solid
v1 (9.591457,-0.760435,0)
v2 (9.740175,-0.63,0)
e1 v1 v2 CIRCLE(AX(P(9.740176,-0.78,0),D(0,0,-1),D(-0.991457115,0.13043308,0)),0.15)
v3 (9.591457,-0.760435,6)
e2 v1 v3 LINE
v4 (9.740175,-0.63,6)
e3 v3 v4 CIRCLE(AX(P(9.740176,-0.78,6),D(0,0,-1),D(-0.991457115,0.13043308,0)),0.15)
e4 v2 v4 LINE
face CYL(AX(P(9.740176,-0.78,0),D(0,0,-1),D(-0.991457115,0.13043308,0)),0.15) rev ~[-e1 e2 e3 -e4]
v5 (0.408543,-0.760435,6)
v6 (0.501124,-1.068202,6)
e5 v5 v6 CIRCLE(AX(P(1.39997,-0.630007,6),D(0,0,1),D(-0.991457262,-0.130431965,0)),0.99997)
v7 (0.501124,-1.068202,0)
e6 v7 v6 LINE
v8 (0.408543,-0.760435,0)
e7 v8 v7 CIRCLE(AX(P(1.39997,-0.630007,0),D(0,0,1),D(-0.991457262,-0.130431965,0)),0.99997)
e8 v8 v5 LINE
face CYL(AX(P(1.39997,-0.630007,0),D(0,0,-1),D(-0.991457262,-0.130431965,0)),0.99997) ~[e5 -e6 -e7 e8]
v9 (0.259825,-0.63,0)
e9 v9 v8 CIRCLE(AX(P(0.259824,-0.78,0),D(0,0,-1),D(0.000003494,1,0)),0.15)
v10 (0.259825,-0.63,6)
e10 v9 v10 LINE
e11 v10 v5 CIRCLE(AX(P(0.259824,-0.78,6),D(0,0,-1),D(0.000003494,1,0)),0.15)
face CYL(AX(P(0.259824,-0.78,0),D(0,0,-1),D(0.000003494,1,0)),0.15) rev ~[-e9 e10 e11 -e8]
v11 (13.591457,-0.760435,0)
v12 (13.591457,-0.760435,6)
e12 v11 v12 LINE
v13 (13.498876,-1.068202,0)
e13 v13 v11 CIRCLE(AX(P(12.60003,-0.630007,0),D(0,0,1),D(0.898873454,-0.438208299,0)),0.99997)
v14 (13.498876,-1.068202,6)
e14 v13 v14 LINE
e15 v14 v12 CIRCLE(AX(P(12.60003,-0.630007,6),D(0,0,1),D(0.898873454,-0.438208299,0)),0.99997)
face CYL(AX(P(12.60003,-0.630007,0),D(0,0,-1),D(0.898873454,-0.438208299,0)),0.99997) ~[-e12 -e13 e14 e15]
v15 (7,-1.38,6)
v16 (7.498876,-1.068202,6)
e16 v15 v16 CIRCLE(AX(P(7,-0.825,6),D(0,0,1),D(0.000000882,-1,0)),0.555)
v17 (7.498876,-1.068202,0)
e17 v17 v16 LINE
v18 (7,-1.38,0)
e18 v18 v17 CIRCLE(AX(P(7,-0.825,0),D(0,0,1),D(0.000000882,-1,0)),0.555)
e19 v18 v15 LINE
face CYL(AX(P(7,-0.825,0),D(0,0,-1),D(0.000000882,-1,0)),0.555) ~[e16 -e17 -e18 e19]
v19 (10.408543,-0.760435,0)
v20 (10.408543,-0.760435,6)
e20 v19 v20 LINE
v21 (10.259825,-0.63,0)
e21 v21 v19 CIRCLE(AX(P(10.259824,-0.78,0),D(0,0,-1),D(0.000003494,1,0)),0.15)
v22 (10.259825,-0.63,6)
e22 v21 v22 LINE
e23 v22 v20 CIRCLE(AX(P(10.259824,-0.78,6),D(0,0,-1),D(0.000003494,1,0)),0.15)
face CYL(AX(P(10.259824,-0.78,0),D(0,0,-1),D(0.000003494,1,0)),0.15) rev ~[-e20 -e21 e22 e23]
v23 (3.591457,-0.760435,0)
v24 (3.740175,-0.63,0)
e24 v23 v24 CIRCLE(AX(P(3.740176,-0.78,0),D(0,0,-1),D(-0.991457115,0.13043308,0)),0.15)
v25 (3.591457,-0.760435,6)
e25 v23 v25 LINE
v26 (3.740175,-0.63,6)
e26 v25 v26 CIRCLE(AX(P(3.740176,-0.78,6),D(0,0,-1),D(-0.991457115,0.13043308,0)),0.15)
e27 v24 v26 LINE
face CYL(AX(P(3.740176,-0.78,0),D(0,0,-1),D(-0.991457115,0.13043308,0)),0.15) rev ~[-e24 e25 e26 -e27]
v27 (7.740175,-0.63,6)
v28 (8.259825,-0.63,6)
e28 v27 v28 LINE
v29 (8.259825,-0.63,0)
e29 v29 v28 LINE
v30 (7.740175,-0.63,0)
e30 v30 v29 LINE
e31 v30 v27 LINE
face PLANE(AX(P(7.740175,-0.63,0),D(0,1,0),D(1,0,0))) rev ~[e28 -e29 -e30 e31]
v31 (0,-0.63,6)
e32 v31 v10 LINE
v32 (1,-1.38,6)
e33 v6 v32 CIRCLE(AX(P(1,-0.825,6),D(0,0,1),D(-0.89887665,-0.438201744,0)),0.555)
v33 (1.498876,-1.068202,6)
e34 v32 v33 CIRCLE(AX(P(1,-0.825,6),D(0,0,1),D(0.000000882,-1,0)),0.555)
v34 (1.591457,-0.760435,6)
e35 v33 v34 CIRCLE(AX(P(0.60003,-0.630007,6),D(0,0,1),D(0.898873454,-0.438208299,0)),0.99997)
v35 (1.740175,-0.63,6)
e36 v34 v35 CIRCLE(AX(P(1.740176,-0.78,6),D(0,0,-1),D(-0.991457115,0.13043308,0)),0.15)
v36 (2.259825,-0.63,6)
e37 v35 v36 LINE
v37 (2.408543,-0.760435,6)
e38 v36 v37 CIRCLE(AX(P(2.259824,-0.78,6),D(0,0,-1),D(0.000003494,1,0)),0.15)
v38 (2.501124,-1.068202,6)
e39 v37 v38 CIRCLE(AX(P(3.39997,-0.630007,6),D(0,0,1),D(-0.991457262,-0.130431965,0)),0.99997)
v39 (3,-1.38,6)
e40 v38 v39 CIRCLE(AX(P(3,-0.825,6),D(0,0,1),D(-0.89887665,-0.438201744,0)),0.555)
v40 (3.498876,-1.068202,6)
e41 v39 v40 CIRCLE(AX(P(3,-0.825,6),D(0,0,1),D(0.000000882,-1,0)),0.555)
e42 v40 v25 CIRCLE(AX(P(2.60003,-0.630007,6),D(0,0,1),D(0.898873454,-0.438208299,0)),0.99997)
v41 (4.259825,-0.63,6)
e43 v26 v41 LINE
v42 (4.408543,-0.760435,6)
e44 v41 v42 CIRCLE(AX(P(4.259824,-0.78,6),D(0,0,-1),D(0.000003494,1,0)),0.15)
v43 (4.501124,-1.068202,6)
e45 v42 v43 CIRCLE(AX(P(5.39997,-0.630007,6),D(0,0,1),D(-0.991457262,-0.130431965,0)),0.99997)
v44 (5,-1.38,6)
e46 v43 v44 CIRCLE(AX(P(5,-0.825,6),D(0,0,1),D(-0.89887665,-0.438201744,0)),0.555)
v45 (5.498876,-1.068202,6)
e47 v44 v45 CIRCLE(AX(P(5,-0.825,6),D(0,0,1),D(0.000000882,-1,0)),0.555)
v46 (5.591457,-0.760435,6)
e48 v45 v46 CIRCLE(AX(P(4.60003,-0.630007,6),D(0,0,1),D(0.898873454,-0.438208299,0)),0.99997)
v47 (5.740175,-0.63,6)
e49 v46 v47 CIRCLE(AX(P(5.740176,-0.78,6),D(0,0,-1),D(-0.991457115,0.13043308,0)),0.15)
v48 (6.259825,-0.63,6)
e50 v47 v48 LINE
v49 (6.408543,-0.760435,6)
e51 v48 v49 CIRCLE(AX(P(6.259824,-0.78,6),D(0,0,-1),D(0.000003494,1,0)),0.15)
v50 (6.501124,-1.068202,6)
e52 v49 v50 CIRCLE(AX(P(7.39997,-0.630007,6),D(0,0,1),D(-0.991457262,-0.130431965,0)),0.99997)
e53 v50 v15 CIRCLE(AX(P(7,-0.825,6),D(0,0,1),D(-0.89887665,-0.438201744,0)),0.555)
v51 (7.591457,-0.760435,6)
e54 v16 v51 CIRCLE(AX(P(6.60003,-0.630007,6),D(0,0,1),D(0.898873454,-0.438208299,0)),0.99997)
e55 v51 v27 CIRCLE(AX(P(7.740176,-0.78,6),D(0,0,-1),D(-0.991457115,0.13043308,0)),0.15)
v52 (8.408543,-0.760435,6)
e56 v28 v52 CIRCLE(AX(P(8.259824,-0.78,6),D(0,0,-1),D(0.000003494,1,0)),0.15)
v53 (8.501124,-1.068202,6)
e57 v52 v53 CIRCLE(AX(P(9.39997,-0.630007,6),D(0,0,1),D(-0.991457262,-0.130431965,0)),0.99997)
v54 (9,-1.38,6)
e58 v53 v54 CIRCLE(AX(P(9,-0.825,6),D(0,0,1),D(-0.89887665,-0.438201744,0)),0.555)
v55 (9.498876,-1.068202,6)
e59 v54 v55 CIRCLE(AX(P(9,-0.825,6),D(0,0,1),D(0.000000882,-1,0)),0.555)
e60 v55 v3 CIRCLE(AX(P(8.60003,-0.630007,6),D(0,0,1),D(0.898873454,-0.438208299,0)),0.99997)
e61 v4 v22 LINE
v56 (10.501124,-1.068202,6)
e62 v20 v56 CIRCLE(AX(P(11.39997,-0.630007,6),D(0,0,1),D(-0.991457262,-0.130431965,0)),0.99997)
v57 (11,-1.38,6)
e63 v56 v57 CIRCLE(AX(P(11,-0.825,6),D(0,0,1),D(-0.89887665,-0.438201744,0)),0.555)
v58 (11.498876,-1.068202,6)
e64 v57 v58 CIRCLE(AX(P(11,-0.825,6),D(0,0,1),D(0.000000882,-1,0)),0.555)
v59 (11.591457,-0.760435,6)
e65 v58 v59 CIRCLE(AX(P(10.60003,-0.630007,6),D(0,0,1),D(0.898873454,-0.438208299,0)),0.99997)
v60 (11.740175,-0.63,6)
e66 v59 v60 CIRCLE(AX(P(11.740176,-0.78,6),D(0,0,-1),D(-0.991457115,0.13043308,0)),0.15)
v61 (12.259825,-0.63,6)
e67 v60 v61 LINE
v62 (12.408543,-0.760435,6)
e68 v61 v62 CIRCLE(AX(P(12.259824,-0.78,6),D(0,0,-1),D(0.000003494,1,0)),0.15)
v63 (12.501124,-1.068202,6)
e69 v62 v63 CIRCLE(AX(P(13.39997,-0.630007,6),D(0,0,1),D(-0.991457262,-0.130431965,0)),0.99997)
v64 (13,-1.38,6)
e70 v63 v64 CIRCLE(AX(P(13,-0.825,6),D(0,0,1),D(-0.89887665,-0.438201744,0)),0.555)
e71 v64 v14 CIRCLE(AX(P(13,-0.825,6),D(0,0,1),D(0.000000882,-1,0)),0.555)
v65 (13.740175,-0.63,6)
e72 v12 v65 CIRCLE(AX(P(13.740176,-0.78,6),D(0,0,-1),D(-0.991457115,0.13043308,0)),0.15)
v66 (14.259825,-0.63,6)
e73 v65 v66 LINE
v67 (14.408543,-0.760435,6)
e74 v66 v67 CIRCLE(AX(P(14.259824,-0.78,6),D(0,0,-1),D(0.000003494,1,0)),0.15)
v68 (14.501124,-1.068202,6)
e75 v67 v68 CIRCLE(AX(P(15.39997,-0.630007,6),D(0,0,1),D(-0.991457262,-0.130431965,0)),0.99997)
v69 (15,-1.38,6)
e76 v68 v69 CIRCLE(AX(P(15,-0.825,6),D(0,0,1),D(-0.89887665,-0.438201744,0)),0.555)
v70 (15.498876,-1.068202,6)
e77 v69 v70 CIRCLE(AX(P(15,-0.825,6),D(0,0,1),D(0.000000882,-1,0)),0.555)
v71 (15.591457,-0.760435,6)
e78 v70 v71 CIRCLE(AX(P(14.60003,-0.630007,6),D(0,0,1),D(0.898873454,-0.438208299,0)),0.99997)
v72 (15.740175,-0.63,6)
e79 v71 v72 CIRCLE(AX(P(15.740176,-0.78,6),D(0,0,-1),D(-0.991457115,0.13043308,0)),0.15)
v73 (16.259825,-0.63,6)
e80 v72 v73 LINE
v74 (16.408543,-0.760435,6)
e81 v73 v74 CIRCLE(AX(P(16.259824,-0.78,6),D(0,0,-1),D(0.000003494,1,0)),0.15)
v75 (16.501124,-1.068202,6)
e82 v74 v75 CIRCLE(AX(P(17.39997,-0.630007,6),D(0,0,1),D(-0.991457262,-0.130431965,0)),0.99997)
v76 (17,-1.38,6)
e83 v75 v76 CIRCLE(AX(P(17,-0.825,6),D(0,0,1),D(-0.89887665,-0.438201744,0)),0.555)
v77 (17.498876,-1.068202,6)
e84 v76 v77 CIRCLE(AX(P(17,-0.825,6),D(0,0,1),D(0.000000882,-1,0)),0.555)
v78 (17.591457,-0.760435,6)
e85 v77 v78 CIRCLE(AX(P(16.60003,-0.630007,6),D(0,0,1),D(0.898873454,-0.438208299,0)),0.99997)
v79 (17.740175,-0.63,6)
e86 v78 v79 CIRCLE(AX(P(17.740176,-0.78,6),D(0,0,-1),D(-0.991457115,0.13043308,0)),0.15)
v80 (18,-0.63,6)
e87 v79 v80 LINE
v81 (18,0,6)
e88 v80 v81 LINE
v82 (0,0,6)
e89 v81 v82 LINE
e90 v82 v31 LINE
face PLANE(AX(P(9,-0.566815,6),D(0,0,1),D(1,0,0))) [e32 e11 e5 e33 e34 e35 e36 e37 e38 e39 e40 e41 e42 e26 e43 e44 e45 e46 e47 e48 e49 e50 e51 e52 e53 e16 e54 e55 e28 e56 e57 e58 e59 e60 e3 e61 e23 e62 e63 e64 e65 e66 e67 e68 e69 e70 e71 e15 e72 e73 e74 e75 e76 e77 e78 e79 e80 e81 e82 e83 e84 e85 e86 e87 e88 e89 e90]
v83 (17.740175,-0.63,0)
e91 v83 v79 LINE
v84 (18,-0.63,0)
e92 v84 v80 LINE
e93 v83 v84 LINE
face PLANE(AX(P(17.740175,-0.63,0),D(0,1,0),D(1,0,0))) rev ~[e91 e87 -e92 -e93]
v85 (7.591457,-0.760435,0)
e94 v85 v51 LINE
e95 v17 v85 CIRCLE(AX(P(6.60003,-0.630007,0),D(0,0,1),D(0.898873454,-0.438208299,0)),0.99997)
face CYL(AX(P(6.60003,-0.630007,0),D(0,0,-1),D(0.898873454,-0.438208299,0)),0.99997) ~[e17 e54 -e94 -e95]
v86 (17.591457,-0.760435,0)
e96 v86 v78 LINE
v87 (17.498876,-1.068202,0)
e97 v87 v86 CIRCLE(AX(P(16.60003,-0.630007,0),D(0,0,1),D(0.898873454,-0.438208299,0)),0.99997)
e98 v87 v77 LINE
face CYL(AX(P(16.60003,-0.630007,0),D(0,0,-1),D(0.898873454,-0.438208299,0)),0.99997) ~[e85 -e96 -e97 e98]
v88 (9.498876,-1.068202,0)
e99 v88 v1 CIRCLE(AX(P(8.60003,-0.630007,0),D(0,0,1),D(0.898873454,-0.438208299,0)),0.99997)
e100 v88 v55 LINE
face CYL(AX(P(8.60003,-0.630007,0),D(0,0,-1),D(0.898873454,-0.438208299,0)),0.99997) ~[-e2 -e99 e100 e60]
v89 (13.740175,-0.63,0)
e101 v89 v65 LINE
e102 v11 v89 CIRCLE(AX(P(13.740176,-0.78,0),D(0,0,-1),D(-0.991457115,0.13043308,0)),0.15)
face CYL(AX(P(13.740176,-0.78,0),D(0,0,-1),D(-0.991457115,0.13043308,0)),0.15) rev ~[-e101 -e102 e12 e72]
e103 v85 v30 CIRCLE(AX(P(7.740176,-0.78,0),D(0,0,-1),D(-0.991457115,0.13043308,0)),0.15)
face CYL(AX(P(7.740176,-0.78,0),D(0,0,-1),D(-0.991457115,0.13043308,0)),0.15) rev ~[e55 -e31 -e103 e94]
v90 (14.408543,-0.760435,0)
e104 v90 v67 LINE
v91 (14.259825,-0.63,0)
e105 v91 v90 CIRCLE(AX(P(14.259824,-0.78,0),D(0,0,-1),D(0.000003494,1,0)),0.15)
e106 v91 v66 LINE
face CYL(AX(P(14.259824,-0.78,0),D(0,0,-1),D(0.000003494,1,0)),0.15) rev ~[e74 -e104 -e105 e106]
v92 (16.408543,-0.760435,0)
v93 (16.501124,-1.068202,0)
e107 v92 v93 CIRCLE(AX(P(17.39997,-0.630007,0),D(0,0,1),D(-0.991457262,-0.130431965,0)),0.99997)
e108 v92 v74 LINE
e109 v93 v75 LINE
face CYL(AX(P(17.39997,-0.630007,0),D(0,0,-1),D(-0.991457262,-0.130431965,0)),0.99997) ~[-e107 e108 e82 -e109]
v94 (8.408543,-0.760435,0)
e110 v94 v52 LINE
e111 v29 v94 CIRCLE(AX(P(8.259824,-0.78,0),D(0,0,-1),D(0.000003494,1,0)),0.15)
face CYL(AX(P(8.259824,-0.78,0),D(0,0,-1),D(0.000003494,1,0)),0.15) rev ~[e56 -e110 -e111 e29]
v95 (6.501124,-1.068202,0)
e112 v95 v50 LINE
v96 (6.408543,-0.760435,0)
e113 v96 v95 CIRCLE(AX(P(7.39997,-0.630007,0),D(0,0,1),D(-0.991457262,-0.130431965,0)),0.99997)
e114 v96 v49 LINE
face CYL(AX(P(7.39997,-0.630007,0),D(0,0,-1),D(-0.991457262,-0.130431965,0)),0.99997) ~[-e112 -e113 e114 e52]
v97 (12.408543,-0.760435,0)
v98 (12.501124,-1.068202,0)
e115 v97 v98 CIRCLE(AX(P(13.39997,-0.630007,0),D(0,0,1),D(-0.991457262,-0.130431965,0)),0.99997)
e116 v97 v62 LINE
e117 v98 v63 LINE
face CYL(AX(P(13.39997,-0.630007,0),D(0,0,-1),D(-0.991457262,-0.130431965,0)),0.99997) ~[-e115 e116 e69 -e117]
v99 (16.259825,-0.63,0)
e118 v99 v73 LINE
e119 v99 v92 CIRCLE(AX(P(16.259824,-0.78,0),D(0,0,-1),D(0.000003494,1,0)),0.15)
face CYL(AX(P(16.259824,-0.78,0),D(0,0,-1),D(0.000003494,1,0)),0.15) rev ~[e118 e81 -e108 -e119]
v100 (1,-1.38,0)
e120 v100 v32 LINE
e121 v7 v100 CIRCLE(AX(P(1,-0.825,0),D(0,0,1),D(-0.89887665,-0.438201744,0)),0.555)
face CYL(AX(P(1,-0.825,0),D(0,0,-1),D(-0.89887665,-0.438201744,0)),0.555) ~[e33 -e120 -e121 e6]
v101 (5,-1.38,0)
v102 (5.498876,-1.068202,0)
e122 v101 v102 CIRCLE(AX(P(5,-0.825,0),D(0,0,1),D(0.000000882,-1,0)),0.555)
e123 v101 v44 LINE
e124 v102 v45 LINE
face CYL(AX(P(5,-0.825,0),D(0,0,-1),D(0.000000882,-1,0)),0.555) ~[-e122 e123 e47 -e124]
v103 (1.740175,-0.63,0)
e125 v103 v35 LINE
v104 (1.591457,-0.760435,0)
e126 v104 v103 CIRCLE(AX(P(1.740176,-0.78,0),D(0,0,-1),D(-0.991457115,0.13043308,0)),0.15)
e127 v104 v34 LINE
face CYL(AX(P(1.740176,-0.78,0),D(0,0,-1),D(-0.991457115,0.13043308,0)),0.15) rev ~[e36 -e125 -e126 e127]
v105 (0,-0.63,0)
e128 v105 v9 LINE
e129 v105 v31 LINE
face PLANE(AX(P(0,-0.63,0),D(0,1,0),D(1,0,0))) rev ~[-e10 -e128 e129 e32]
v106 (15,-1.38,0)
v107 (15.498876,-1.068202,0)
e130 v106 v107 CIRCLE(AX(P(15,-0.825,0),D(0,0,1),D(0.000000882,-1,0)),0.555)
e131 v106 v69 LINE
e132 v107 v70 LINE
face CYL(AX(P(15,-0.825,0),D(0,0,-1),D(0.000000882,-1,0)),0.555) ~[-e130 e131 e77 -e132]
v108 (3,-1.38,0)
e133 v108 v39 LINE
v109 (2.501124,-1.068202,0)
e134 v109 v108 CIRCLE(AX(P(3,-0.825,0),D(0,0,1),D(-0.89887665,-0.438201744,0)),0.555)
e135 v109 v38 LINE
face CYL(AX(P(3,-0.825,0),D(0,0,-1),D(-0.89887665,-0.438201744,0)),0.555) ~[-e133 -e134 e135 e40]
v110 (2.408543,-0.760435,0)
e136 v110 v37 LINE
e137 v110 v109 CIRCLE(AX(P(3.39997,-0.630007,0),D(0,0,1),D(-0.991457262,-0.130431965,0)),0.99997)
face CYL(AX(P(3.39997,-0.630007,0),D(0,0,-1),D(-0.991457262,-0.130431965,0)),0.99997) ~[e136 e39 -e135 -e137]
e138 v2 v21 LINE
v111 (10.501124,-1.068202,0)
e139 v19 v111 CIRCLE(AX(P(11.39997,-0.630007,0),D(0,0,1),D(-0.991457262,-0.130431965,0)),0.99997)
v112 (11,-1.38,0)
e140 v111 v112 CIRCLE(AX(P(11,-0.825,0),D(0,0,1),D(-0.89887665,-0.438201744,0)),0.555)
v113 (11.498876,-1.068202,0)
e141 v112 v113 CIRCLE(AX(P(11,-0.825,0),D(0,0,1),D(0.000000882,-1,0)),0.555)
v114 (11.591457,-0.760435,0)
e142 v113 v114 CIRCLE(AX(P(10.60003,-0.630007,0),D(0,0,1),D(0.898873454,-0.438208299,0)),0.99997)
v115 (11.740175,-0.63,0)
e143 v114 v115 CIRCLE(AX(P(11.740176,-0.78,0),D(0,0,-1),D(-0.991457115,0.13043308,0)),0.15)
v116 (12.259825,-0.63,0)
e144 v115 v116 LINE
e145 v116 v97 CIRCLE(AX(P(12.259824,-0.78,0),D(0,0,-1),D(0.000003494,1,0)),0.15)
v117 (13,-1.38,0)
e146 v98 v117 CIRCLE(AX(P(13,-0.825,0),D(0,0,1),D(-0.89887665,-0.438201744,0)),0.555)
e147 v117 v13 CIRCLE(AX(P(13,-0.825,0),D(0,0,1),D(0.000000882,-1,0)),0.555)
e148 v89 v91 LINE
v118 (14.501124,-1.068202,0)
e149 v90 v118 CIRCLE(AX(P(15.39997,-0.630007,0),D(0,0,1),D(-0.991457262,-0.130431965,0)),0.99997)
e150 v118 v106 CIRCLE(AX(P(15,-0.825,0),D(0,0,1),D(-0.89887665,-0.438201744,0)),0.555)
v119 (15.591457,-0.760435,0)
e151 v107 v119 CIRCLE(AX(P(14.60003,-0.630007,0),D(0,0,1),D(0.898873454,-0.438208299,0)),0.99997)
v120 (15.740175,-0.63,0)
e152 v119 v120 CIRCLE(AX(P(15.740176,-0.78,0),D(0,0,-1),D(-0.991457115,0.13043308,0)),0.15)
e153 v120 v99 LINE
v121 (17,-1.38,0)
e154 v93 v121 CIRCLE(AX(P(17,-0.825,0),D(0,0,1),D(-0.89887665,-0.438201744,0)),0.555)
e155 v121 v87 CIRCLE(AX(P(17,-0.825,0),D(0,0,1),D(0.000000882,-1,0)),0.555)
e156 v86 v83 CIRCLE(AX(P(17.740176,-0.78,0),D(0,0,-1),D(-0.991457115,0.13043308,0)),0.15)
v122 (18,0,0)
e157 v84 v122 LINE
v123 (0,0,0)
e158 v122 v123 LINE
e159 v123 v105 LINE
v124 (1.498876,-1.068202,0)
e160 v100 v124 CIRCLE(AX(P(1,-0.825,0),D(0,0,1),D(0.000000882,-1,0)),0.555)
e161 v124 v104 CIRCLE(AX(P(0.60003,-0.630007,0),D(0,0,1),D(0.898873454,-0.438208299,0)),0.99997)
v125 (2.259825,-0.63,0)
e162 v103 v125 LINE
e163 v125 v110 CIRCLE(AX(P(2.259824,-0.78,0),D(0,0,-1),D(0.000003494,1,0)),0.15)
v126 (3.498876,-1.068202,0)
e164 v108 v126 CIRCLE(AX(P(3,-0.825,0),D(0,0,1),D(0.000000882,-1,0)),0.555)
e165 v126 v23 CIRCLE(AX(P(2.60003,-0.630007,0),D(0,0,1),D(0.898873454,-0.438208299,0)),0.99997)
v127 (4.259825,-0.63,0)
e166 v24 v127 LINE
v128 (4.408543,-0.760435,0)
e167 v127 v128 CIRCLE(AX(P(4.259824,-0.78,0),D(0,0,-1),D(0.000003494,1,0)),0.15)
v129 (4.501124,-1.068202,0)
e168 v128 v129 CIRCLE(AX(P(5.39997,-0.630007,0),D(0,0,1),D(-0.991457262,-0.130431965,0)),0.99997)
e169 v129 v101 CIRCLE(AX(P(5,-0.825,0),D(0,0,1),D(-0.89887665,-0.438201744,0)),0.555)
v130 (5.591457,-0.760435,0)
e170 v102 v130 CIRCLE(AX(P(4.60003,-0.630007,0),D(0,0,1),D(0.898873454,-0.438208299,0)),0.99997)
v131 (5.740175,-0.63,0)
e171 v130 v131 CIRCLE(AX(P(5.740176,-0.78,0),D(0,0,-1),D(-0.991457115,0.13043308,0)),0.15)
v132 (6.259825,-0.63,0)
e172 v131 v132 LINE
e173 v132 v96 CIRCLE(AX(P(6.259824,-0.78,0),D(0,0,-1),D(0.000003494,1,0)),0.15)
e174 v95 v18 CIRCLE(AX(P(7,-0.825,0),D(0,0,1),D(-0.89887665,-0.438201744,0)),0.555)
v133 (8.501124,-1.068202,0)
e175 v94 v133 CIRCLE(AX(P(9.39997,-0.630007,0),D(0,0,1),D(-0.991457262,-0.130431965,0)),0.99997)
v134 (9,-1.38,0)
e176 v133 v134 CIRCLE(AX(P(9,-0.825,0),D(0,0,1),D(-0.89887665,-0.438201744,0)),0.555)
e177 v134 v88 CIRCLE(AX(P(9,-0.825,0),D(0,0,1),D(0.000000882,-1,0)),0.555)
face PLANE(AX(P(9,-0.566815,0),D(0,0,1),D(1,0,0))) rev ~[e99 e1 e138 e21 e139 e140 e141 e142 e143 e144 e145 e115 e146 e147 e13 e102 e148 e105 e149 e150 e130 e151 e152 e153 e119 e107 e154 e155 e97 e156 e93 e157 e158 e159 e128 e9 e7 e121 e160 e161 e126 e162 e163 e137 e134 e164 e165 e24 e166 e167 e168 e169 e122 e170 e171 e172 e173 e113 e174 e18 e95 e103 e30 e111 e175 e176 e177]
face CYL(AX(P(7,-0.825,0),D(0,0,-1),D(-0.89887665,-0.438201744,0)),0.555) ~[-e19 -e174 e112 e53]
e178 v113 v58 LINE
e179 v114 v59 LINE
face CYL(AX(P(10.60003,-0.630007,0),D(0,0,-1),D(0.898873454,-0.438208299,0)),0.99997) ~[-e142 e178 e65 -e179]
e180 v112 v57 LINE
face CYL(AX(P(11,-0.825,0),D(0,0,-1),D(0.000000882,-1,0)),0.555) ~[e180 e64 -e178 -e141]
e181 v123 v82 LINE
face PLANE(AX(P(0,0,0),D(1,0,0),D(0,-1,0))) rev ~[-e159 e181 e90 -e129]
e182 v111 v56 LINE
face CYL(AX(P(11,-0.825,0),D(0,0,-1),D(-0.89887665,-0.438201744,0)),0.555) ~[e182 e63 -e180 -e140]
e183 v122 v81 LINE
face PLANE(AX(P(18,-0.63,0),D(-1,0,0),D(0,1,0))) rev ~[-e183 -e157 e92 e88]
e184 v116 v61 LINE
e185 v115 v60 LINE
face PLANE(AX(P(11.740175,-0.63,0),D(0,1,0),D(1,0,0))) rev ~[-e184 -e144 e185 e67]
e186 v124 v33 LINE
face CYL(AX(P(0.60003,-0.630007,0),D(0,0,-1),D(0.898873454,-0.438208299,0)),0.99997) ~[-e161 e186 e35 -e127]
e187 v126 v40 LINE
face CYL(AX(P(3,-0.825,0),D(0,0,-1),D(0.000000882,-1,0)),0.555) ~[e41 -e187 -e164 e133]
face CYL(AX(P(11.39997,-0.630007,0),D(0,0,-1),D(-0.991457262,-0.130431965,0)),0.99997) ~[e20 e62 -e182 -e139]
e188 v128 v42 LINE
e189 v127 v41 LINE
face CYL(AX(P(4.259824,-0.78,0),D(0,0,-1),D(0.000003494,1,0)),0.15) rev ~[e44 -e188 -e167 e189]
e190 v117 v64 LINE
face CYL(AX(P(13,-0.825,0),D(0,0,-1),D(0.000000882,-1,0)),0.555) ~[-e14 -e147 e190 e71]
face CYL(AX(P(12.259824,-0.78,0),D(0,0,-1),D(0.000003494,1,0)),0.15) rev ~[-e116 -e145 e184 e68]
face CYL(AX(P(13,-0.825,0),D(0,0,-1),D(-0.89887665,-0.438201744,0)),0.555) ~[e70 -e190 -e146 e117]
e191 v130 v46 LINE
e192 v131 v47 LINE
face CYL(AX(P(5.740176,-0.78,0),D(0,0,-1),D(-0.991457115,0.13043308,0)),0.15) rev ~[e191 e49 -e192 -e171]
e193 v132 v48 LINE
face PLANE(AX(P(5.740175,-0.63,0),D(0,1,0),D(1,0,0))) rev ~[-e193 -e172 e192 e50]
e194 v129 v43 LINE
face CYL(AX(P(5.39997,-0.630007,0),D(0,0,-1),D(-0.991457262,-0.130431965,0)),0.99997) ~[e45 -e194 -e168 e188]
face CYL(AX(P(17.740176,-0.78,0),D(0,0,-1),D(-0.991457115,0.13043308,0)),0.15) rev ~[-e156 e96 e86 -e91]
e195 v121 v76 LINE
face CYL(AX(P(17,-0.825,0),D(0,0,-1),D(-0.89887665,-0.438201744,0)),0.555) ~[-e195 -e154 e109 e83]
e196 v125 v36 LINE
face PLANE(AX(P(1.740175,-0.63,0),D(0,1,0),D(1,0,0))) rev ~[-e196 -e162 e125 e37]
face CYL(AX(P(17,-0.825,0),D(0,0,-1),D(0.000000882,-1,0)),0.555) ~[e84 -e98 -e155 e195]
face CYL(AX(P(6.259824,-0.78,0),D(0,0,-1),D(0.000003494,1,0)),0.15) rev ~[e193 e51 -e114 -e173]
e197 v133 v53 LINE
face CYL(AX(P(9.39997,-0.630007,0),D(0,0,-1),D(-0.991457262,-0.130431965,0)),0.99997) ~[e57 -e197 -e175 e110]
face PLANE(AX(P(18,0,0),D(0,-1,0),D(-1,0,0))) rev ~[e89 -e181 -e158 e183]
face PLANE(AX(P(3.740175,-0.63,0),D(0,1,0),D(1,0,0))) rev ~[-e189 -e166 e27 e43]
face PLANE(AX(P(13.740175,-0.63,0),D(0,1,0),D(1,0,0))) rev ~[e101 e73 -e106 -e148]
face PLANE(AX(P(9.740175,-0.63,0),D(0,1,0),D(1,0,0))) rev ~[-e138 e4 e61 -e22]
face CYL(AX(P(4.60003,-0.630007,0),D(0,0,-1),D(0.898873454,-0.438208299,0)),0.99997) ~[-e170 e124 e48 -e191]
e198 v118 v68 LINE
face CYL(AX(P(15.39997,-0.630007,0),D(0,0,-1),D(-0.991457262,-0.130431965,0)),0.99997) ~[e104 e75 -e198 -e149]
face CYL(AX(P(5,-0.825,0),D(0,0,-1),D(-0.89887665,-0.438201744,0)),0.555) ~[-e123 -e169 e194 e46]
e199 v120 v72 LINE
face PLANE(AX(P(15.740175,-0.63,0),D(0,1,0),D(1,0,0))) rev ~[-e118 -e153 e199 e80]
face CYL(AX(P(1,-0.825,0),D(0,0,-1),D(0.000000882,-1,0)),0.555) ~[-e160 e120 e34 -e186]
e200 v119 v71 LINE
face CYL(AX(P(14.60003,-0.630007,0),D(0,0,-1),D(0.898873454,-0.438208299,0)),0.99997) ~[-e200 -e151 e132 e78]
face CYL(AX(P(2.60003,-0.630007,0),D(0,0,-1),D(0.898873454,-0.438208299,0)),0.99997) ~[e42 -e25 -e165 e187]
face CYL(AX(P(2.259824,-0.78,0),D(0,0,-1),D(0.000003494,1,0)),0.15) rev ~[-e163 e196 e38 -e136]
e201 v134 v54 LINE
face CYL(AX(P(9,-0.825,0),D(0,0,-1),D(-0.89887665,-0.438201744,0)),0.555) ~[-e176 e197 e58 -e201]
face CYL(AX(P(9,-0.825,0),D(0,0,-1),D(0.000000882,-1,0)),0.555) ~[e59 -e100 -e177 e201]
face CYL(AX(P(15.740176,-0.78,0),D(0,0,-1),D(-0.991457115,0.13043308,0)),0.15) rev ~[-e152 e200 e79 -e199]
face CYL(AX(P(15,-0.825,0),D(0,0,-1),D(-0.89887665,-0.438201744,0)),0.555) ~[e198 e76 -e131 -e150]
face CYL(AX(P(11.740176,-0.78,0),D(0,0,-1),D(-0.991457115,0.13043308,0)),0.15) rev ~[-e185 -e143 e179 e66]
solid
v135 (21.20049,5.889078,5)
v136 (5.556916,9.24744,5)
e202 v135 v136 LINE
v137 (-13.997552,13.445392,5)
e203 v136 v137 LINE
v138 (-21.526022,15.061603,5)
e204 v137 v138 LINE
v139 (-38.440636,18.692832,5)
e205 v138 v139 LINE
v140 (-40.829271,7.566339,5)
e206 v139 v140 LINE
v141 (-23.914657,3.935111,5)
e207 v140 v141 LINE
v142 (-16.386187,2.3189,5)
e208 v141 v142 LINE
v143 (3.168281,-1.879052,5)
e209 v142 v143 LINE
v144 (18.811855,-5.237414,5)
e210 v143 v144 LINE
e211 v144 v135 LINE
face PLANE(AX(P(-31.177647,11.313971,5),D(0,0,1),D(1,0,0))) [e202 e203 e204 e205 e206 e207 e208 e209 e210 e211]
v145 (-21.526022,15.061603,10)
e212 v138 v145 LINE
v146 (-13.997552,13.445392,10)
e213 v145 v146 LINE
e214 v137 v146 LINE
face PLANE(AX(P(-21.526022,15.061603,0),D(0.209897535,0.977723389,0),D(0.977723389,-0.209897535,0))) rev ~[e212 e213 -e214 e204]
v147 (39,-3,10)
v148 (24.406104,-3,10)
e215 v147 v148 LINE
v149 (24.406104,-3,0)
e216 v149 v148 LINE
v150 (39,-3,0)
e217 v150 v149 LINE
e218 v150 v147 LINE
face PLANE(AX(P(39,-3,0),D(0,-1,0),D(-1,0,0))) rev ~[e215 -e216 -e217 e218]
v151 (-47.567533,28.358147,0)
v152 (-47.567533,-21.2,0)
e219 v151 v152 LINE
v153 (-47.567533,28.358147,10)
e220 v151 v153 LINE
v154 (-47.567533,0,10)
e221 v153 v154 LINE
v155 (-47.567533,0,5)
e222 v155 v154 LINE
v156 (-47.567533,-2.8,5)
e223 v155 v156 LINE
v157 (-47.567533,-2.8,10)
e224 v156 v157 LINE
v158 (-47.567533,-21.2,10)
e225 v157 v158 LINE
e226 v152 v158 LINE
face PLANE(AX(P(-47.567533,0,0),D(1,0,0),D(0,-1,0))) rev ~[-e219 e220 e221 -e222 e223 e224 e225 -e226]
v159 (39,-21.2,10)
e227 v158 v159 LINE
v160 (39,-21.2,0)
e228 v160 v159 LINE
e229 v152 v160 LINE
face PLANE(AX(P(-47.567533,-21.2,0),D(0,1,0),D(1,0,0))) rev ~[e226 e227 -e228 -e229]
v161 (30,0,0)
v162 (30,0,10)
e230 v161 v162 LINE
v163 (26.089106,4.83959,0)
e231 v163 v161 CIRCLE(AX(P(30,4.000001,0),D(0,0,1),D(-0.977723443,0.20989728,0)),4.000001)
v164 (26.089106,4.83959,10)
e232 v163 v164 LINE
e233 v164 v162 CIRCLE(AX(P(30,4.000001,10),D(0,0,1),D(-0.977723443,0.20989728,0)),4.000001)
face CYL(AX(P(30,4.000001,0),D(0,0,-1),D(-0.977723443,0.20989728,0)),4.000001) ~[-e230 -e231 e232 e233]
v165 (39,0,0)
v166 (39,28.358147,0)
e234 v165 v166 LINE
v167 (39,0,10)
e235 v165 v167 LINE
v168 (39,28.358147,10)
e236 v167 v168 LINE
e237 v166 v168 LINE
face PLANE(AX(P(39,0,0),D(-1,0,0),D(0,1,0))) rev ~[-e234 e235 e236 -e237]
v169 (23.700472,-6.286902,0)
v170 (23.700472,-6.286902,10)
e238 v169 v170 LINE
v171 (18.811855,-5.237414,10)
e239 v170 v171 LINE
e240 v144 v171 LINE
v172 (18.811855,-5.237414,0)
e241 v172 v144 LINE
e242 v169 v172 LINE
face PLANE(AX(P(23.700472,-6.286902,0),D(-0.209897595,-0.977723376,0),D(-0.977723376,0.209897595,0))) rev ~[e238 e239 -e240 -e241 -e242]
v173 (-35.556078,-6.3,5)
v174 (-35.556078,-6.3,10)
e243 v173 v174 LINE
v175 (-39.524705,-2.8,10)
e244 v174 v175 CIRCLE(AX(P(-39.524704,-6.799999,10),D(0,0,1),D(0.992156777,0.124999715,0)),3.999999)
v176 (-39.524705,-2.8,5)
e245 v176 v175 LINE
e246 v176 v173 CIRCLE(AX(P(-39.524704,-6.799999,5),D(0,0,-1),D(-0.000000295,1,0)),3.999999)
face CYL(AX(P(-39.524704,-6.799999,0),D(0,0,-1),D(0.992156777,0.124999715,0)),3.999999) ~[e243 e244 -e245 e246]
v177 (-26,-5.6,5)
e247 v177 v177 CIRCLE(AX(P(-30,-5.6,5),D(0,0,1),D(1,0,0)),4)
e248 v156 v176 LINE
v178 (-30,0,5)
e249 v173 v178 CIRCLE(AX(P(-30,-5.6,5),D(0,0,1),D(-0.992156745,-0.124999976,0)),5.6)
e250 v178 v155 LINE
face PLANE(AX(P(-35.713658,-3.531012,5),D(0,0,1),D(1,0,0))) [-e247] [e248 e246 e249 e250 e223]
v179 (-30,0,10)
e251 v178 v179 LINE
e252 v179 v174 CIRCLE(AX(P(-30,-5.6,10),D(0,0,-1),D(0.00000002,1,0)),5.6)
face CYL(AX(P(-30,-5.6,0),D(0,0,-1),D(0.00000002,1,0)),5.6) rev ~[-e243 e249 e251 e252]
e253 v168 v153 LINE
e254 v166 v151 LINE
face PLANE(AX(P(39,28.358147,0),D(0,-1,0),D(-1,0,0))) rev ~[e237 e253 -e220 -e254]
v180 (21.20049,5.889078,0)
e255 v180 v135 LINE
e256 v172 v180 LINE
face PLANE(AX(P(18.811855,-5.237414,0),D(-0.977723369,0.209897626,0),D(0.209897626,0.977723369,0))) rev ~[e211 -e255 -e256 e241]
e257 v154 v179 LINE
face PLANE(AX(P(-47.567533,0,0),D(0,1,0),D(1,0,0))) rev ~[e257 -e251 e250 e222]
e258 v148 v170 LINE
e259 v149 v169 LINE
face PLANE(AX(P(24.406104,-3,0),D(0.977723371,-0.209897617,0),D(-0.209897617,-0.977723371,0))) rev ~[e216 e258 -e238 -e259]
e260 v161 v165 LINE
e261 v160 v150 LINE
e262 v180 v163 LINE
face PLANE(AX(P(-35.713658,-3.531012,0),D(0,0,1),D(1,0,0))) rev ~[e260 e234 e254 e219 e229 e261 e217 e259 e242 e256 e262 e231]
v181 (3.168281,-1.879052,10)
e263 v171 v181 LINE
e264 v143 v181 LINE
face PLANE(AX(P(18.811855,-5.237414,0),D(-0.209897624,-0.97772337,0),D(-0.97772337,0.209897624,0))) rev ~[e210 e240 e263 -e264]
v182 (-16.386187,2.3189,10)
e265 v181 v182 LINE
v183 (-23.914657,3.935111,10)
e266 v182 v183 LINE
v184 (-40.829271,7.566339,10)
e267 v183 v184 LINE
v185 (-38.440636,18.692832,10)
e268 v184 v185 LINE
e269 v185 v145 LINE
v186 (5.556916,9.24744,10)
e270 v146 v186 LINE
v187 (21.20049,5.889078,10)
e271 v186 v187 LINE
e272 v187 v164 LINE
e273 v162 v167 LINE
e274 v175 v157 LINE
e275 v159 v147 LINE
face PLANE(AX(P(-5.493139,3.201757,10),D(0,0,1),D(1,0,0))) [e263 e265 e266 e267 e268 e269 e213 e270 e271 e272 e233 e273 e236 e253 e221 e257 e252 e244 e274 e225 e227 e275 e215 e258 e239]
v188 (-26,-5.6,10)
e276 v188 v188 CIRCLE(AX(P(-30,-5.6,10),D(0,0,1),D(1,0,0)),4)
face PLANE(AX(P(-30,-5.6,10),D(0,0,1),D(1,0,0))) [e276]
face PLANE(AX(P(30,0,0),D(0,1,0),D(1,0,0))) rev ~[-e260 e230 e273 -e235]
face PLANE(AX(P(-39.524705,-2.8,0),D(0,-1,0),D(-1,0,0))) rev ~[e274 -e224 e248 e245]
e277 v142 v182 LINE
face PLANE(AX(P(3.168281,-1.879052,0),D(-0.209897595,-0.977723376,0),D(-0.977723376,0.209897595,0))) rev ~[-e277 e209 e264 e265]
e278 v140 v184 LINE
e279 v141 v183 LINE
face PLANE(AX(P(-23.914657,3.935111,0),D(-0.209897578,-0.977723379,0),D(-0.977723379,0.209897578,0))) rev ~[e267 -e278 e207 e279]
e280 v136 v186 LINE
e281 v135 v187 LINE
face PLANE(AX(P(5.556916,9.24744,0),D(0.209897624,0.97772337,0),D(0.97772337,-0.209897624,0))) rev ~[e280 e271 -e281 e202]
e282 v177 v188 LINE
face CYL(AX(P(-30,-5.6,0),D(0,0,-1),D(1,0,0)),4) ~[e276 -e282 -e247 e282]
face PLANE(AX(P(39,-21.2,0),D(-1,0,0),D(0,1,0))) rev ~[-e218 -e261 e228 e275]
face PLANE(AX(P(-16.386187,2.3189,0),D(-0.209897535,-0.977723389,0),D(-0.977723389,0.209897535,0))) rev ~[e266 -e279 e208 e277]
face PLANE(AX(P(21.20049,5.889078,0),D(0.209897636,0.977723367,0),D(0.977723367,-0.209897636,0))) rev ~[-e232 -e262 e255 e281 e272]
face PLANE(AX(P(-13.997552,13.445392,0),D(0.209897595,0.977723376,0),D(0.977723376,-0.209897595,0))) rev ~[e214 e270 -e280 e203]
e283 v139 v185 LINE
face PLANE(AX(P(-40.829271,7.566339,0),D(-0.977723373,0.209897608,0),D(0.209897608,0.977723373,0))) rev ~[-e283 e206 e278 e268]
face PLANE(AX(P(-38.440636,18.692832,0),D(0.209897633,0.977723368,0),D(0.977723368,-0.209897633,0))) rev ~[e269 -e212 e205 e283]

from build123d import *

# Parameters (mm, degrees)
F0_R     = 4
F1_DEPTH = 10
F2_DEPTH = 5
F4_DEPTH = 6


with BuildPart() as f1:
    # F0 (on Top) → F1 (new body)
    with BuildSketch(Plane.XY):
        with BuildLine():
            Line((-47.567533, 0), (-30, 0))
            ThreePointArc((-30, 0), (-25.8, -9.304052), (-35.556078, -6.3))
            ThreePointArc((-35.556078, -6.3), (-36.878953, -3.8), (-39.524705, -2.8))
            Line((-39.524705, -2.8), (-47.567533, -2.8))
            Line((-47.567533, -2.8), (-47.567533, -21.2))
            Line((-47.567533, -21.2), (39, -21.2))
            Line((39, -21.2), (39, -3))
            Line((39, -3), (24.406104, -3))
            Line((24.406104, -3), (23.700472, -6.286902))
            Line((23.700472, -6.286902), (18.811855, -5.237414))
            Line((18.811855, -5.237414), (3.168281, -1.879052))
            Line((3.168281, -1.879052), (-16.386187, 2.3189))
            Line((-16.386187, 2.3189), (-23.914657, 3.935111))
            Line((-23.914657, 3.935111), (-40.829271, 7.566339))
            Line((-40.829271, 7.566339), (-38.440636, 18.692832))
            Line((-38.440636, 18.692832), (-21.526022, 15.061603))
            Line((-21.526022, 15.061603), (-13.997552, 13.445392))
            Line((-13.997552, 13.445392), (5.556916, 9.24744))
            Line((5.556916, 9.24744), (21.20049, 5.889078))
            Line((21.20049, 5.889078), (26.089106, 4.83959))
            ThreePointArc((26.089106, 4.83959), (30.422153, 7.977661), (34, 4))
            ThreePointArc((34, 4), (32.828427, 1.171573), (30, 0))
            Line((30, 0), (39, 0))
            Line((39, 0), (39, 28.358147))
            Line((39, 28.358147), (-41.479608, 28.358147))
            Line((-41.479608, 28.358147), (-47.567533, 0))
        make_face()
        with BuildLine():
            ThreePointArc((26.089106, 4.83959), (26.888862, 1.485876), (30, 0))
            ThreePointArc((30, 0), (32.828427, 1.171573), (34, 4))
            ThreePointArc((34, 4), (30.422153, 7.977661), (26.089106, 4.83959))
        make_face()
        with Locations((-30, -5.6)):
            Circle(F0_R)
        Polygon((-47.567533, 28.358147), (-47.567533, 0), (-41.479608, 28.358147), align=None)
    extrude(amount=F1_DEPTH)

    # F0 (on Top) → F2 (join)
    with BuildSketch(Plane.XY):
        with BuildLine():
            ThreePointArc((-35.556078, -6.3), (-25.8, -9.304052), (-30, 0))
            Line((-30, 0), (-47.567533, 0))
            Line((-47.567533, 0), (-47.567533, -2.8))
            Line((-47.567533, -2.8), (-39.524705, -2.8))
            ThreePointArc((-39.524705, -2.8), (-36.878953, -3.8), (-35.556078, -6.3))
        make_face()
        with Locations((-30, -5.6)):
            Circle(F0_R, mode=Mode.SUBTRACT)
        Polygon((-23.914657, 3.935111), (-21.526022, 15.061603), (-38.440636, 18.692832), (-40.829271, 7.566339), align=None)
        Polygon((18.811855, -5.237414), (21.20049, 5.889078), (5.556916, 9.24744), (-13.997552, 13.445392), (-21.526022, 15.061603), (-23.914657, 3.935111), (-16.386187, 2.3189), (3.168281, -1.879052), align=None)
        Polygon((-17.20203, 11.382039), (-14.562176, 10.815316), (-15.821562, 4.948976), (-18.461415, 5.515699), align=None, mode=Mode.SUBTRACT)
        Polygon((-15.821562, 4.948976), (-14.562176, 10.815316), (-17.20203, 11.382039), (-18.461415, 5.515699), align=None)
    extrude(amount=F2_DEPTH)


with BuildPart() as f4:
    # F3 (on Top) → F4 (new body)
    with BuildSketch(Plane.XY):
        with BuildLine():
            Line((1, 0), (0, 0))
            Line((0, 0), (0, -0.63))
            Line((0, -0.63), (0.259825, -0.63))
            ThreePointArc((0.259825, -0.63), (0.358732, -0.667229), (0.408543, -0.760435))
            ThreePointArc((0.408543, -0.760435), (0.442388, -0.918062), (0.501124, -1.068202))
            ThreePointArc((0.501124, -1.068202), (0.705851, -1.295639), (1, -1.38))
            ThreePointArc((1, -1.38), (1.294149, -1.295639), (1.498876, -1.068202))
            ThreePointArc((1.498876, -1.068202), (1.557612, -0.918062), (1.591457, -0.760435))
            ThreePointArc((1.591457, -0.760435), (1.641268, -0.667229), (1.740175, -0.63))
            Line((1.740175, -0.63), (2, -0.63))
            Line((2, -0.63), (2.259825, -0.63))
            ThreePointArc((2.259825, -0.63), (2.358732, -0.667229), (2.408543, -0.760435))
            ThreePointArc((2.408543, -0.760435), (2.442388, -0.918062), (2.501124, -1.068202))
            ThreePointArc((2.501124, -1.068202), (2.705851, -1.295639), (3, -1.38))
            ThreePointArc((3, -1.38), (3.294149, -1.295639), (3.498876, -1.068202))
            ThreePointArc((3.498876, -1.068202), (3.557612, -0.918062), (3.591457, -0.760435))
            ThreePointArc((3.591457, -0.760435), (3.641268, -0.667229), (3.740175, -0.63))
            Line((3.740175, -0.63), (4, -0.63))
            Line((4, -0.63), (4.259825, -0.63))
            ThreePointArc((4.259825, -0.63), (4.358732, -0.667229), (4.408543, -0.760435))
            ThreePointArc((4.408543, -0.760435), (4.442388, -0.918062), (4.501124, -1.068202))
            ThreePointArc((4.501124, -1.068202), (4.705851, -1.295639), (5, -1.38))
            ThreePointArc((5, -1.38), (5.294149, -1.295639), (5.498876, -1.068202))
            ThreePointArc((5.498876, -1.068202), (5.557612, -0.918062), (5.591457, -0.760435))
            ThreePointArc((5.591457, -0.760435), (5.641268, -0.667229), (5.740175, -0.63))
            Line((5.740175, -0.63), (6, -0.63))
            Line((6, -0.63), (6.259825, -0.63))
            ThreePointArc((6.259825, -0.63), (6.358732, -0.667229), (6.408543, -0.760435))
            ThreePointArc((6.408543, -0.760435), (6.442388, -0.918062), (6.501124, -1.068202))
            ThreePointArc((6.501124, -1.068202), (6.705851, -1.295639), (7, -1.38))
            ThreePointArc((7, -1.38), (7.294149, -1.295639), (7.498876, -1.068202))
            ThreePointArc((7.498876, -1.068202), (7.557612, -0.918062), (7.591457, -0.760435))
            ThreePointArc((7.591457, -0.760435), (7.641268, -0.667229), (7.740175, -0.63))
            Line((7.740175, -0.63), (8, -0.63))
            Line((8, -0.63), (8.259825, -0.63))
            ThreePointArc((8.259825, -0.63), (8.358732, -0.667229), (8.408543, -0.760435))
            ThreePointArc((8.408543, -0.760435), (8.442388, -0.918062), (8.501124, -1.068202))
            ThreePointArc((8.501124, -1.068202), (8.705851, -1.295639), (9, -1.38))
            ThreePointArc((9, -1.38), (9.294149, -1.295639), (9.498876, -1.068202))
            ThreePointArc((9.498876, -1.068202), (9.557612, -0.918062), (9.591457, -0.760435))
            ThreePointArc((9.591457, -0.760435), (9.641268, -0.667229), (9.740175, -0.63))
            Line((9.740175, -0.63), (10, -0.63))
            Line((10, -0.63), (10.259825, -0.63))
            ThreePointArc((10.259825, -0.63), (10.358732, -0.667229), (10.408543, -0.760435))
            ThreePointArc((10.408543, -0.760435), (10.442388, -0.918062), (10.501124, -1.068202))
            ThreePointArc((10.501124, -1.068202), (10.705851, -1.295639), (11, -1.38))
            ThreePointArc((11, -1.38), (11.294149, -1.295639), (11.498876, -1.068202))
            ThreePointArc((11.498876, -1.068202), (11.557612, -0.918062), (11.591457, -0.760435))
            ThreePointArc((11.591457, -0.760435), (11.641268, -0.667229), (11.740175, -0.63))
            Line((11.740175, -0.63), (12, -0.63))
            Line((12, -0.63), (12.259825, -0.63))
            ThreePointArc((12.259825, -0.63), (12.358732, -0.667229), (12.408543, -0.760435))
            ThreePointArc((12.408543, -0.760435), (12.442388, -0.918062), (12.501124, -1.068202))
            ThreePointArc((12.501124, -1.068202), (12.705851, -1.295639), (13, -1.38))
            ThreePointArc((13, -1.38), (13.294149, -1.295639), (13.498876, -1.068202))
            ThreePointArc((13.498876, -1.068202), (13.557612, -0.918062), (13.591457, -0.760435))
            ThreePointArc((13.591457, -0.760435), (13.641268, -0.667229), (13.740175, -0.63))
            Line((13.740175, -0.63), (14, -0.63))
            Line((14, -0.63), (14.259825, -0.63))
            ThreePointArc((14.259825, -0.63), (14.358732, -0.667229), (14.408543, -0.760435))
            ThreePointArc((14.408543, -0.760435), (14.442388, -0.918062), (14.501124, -1.068202))
            ThreePointArc((14.501124, -1.068202), (14.705851, -1.295639), (15, -1.38))
            ThreePointArc((15, -1.38), (15.294149, -1.295639), (15.498876, -1.068202))
            ThreePointArc((15.498876, -1.068202), (15.557612, -0.918062), (15.591457, -0.760435))
            ThreePointArc((15.591457, -0.760435), (15.641268, -0.667229), (15.740175, -0.63))
            Line((15.740175, -0.63), (16, -0.63))
            Line((16, -0.63), (16.259825, -0.63))
            ThreePointArc((16.259825, -0.63), (16.358732, -0.667229), (16.408543, -0.760435))
            ThreePointArc((16.408543, -0.760435), (16.442388, -0.918062), (16.501124, -1.068202))
            ThreePointArc((16.501124, -1.068202), (16.705851, -1.295639), (17, -1.38))
            ThreePointArc((17, -1.38), (17.294149, -1.295639), (17.498876, -1.068202))
            ThreePointArc((17.498876, -1.068202), (17.557612, -0.918062), (17.591457, -0.760435))
            ThreePointArc((17.591457, -0.760435), (17.641268, -0.667229), (17.740175, -0.63))
            Line((17.740175, -0.63), (18, -0.63))
            Line((18, -0.63), (18, 0))
            Line((18, 0), (17, 0))
            Line((17, 0), (15, 0))
            Line((15, 0), (13, 0))
            Line((13, 0), (11, 0))
            Line((11, 0), (9, 0))
            Line((9, 0), (7, 0))
            Line((7, 0), (5, 0))
            Line((5, 0), (3, 0))
            Line((3, 0), (1, 0))
        make_face()
    extrude(amount=F4_DEPTH)


solid = Compound([f1.part, f4.part])
